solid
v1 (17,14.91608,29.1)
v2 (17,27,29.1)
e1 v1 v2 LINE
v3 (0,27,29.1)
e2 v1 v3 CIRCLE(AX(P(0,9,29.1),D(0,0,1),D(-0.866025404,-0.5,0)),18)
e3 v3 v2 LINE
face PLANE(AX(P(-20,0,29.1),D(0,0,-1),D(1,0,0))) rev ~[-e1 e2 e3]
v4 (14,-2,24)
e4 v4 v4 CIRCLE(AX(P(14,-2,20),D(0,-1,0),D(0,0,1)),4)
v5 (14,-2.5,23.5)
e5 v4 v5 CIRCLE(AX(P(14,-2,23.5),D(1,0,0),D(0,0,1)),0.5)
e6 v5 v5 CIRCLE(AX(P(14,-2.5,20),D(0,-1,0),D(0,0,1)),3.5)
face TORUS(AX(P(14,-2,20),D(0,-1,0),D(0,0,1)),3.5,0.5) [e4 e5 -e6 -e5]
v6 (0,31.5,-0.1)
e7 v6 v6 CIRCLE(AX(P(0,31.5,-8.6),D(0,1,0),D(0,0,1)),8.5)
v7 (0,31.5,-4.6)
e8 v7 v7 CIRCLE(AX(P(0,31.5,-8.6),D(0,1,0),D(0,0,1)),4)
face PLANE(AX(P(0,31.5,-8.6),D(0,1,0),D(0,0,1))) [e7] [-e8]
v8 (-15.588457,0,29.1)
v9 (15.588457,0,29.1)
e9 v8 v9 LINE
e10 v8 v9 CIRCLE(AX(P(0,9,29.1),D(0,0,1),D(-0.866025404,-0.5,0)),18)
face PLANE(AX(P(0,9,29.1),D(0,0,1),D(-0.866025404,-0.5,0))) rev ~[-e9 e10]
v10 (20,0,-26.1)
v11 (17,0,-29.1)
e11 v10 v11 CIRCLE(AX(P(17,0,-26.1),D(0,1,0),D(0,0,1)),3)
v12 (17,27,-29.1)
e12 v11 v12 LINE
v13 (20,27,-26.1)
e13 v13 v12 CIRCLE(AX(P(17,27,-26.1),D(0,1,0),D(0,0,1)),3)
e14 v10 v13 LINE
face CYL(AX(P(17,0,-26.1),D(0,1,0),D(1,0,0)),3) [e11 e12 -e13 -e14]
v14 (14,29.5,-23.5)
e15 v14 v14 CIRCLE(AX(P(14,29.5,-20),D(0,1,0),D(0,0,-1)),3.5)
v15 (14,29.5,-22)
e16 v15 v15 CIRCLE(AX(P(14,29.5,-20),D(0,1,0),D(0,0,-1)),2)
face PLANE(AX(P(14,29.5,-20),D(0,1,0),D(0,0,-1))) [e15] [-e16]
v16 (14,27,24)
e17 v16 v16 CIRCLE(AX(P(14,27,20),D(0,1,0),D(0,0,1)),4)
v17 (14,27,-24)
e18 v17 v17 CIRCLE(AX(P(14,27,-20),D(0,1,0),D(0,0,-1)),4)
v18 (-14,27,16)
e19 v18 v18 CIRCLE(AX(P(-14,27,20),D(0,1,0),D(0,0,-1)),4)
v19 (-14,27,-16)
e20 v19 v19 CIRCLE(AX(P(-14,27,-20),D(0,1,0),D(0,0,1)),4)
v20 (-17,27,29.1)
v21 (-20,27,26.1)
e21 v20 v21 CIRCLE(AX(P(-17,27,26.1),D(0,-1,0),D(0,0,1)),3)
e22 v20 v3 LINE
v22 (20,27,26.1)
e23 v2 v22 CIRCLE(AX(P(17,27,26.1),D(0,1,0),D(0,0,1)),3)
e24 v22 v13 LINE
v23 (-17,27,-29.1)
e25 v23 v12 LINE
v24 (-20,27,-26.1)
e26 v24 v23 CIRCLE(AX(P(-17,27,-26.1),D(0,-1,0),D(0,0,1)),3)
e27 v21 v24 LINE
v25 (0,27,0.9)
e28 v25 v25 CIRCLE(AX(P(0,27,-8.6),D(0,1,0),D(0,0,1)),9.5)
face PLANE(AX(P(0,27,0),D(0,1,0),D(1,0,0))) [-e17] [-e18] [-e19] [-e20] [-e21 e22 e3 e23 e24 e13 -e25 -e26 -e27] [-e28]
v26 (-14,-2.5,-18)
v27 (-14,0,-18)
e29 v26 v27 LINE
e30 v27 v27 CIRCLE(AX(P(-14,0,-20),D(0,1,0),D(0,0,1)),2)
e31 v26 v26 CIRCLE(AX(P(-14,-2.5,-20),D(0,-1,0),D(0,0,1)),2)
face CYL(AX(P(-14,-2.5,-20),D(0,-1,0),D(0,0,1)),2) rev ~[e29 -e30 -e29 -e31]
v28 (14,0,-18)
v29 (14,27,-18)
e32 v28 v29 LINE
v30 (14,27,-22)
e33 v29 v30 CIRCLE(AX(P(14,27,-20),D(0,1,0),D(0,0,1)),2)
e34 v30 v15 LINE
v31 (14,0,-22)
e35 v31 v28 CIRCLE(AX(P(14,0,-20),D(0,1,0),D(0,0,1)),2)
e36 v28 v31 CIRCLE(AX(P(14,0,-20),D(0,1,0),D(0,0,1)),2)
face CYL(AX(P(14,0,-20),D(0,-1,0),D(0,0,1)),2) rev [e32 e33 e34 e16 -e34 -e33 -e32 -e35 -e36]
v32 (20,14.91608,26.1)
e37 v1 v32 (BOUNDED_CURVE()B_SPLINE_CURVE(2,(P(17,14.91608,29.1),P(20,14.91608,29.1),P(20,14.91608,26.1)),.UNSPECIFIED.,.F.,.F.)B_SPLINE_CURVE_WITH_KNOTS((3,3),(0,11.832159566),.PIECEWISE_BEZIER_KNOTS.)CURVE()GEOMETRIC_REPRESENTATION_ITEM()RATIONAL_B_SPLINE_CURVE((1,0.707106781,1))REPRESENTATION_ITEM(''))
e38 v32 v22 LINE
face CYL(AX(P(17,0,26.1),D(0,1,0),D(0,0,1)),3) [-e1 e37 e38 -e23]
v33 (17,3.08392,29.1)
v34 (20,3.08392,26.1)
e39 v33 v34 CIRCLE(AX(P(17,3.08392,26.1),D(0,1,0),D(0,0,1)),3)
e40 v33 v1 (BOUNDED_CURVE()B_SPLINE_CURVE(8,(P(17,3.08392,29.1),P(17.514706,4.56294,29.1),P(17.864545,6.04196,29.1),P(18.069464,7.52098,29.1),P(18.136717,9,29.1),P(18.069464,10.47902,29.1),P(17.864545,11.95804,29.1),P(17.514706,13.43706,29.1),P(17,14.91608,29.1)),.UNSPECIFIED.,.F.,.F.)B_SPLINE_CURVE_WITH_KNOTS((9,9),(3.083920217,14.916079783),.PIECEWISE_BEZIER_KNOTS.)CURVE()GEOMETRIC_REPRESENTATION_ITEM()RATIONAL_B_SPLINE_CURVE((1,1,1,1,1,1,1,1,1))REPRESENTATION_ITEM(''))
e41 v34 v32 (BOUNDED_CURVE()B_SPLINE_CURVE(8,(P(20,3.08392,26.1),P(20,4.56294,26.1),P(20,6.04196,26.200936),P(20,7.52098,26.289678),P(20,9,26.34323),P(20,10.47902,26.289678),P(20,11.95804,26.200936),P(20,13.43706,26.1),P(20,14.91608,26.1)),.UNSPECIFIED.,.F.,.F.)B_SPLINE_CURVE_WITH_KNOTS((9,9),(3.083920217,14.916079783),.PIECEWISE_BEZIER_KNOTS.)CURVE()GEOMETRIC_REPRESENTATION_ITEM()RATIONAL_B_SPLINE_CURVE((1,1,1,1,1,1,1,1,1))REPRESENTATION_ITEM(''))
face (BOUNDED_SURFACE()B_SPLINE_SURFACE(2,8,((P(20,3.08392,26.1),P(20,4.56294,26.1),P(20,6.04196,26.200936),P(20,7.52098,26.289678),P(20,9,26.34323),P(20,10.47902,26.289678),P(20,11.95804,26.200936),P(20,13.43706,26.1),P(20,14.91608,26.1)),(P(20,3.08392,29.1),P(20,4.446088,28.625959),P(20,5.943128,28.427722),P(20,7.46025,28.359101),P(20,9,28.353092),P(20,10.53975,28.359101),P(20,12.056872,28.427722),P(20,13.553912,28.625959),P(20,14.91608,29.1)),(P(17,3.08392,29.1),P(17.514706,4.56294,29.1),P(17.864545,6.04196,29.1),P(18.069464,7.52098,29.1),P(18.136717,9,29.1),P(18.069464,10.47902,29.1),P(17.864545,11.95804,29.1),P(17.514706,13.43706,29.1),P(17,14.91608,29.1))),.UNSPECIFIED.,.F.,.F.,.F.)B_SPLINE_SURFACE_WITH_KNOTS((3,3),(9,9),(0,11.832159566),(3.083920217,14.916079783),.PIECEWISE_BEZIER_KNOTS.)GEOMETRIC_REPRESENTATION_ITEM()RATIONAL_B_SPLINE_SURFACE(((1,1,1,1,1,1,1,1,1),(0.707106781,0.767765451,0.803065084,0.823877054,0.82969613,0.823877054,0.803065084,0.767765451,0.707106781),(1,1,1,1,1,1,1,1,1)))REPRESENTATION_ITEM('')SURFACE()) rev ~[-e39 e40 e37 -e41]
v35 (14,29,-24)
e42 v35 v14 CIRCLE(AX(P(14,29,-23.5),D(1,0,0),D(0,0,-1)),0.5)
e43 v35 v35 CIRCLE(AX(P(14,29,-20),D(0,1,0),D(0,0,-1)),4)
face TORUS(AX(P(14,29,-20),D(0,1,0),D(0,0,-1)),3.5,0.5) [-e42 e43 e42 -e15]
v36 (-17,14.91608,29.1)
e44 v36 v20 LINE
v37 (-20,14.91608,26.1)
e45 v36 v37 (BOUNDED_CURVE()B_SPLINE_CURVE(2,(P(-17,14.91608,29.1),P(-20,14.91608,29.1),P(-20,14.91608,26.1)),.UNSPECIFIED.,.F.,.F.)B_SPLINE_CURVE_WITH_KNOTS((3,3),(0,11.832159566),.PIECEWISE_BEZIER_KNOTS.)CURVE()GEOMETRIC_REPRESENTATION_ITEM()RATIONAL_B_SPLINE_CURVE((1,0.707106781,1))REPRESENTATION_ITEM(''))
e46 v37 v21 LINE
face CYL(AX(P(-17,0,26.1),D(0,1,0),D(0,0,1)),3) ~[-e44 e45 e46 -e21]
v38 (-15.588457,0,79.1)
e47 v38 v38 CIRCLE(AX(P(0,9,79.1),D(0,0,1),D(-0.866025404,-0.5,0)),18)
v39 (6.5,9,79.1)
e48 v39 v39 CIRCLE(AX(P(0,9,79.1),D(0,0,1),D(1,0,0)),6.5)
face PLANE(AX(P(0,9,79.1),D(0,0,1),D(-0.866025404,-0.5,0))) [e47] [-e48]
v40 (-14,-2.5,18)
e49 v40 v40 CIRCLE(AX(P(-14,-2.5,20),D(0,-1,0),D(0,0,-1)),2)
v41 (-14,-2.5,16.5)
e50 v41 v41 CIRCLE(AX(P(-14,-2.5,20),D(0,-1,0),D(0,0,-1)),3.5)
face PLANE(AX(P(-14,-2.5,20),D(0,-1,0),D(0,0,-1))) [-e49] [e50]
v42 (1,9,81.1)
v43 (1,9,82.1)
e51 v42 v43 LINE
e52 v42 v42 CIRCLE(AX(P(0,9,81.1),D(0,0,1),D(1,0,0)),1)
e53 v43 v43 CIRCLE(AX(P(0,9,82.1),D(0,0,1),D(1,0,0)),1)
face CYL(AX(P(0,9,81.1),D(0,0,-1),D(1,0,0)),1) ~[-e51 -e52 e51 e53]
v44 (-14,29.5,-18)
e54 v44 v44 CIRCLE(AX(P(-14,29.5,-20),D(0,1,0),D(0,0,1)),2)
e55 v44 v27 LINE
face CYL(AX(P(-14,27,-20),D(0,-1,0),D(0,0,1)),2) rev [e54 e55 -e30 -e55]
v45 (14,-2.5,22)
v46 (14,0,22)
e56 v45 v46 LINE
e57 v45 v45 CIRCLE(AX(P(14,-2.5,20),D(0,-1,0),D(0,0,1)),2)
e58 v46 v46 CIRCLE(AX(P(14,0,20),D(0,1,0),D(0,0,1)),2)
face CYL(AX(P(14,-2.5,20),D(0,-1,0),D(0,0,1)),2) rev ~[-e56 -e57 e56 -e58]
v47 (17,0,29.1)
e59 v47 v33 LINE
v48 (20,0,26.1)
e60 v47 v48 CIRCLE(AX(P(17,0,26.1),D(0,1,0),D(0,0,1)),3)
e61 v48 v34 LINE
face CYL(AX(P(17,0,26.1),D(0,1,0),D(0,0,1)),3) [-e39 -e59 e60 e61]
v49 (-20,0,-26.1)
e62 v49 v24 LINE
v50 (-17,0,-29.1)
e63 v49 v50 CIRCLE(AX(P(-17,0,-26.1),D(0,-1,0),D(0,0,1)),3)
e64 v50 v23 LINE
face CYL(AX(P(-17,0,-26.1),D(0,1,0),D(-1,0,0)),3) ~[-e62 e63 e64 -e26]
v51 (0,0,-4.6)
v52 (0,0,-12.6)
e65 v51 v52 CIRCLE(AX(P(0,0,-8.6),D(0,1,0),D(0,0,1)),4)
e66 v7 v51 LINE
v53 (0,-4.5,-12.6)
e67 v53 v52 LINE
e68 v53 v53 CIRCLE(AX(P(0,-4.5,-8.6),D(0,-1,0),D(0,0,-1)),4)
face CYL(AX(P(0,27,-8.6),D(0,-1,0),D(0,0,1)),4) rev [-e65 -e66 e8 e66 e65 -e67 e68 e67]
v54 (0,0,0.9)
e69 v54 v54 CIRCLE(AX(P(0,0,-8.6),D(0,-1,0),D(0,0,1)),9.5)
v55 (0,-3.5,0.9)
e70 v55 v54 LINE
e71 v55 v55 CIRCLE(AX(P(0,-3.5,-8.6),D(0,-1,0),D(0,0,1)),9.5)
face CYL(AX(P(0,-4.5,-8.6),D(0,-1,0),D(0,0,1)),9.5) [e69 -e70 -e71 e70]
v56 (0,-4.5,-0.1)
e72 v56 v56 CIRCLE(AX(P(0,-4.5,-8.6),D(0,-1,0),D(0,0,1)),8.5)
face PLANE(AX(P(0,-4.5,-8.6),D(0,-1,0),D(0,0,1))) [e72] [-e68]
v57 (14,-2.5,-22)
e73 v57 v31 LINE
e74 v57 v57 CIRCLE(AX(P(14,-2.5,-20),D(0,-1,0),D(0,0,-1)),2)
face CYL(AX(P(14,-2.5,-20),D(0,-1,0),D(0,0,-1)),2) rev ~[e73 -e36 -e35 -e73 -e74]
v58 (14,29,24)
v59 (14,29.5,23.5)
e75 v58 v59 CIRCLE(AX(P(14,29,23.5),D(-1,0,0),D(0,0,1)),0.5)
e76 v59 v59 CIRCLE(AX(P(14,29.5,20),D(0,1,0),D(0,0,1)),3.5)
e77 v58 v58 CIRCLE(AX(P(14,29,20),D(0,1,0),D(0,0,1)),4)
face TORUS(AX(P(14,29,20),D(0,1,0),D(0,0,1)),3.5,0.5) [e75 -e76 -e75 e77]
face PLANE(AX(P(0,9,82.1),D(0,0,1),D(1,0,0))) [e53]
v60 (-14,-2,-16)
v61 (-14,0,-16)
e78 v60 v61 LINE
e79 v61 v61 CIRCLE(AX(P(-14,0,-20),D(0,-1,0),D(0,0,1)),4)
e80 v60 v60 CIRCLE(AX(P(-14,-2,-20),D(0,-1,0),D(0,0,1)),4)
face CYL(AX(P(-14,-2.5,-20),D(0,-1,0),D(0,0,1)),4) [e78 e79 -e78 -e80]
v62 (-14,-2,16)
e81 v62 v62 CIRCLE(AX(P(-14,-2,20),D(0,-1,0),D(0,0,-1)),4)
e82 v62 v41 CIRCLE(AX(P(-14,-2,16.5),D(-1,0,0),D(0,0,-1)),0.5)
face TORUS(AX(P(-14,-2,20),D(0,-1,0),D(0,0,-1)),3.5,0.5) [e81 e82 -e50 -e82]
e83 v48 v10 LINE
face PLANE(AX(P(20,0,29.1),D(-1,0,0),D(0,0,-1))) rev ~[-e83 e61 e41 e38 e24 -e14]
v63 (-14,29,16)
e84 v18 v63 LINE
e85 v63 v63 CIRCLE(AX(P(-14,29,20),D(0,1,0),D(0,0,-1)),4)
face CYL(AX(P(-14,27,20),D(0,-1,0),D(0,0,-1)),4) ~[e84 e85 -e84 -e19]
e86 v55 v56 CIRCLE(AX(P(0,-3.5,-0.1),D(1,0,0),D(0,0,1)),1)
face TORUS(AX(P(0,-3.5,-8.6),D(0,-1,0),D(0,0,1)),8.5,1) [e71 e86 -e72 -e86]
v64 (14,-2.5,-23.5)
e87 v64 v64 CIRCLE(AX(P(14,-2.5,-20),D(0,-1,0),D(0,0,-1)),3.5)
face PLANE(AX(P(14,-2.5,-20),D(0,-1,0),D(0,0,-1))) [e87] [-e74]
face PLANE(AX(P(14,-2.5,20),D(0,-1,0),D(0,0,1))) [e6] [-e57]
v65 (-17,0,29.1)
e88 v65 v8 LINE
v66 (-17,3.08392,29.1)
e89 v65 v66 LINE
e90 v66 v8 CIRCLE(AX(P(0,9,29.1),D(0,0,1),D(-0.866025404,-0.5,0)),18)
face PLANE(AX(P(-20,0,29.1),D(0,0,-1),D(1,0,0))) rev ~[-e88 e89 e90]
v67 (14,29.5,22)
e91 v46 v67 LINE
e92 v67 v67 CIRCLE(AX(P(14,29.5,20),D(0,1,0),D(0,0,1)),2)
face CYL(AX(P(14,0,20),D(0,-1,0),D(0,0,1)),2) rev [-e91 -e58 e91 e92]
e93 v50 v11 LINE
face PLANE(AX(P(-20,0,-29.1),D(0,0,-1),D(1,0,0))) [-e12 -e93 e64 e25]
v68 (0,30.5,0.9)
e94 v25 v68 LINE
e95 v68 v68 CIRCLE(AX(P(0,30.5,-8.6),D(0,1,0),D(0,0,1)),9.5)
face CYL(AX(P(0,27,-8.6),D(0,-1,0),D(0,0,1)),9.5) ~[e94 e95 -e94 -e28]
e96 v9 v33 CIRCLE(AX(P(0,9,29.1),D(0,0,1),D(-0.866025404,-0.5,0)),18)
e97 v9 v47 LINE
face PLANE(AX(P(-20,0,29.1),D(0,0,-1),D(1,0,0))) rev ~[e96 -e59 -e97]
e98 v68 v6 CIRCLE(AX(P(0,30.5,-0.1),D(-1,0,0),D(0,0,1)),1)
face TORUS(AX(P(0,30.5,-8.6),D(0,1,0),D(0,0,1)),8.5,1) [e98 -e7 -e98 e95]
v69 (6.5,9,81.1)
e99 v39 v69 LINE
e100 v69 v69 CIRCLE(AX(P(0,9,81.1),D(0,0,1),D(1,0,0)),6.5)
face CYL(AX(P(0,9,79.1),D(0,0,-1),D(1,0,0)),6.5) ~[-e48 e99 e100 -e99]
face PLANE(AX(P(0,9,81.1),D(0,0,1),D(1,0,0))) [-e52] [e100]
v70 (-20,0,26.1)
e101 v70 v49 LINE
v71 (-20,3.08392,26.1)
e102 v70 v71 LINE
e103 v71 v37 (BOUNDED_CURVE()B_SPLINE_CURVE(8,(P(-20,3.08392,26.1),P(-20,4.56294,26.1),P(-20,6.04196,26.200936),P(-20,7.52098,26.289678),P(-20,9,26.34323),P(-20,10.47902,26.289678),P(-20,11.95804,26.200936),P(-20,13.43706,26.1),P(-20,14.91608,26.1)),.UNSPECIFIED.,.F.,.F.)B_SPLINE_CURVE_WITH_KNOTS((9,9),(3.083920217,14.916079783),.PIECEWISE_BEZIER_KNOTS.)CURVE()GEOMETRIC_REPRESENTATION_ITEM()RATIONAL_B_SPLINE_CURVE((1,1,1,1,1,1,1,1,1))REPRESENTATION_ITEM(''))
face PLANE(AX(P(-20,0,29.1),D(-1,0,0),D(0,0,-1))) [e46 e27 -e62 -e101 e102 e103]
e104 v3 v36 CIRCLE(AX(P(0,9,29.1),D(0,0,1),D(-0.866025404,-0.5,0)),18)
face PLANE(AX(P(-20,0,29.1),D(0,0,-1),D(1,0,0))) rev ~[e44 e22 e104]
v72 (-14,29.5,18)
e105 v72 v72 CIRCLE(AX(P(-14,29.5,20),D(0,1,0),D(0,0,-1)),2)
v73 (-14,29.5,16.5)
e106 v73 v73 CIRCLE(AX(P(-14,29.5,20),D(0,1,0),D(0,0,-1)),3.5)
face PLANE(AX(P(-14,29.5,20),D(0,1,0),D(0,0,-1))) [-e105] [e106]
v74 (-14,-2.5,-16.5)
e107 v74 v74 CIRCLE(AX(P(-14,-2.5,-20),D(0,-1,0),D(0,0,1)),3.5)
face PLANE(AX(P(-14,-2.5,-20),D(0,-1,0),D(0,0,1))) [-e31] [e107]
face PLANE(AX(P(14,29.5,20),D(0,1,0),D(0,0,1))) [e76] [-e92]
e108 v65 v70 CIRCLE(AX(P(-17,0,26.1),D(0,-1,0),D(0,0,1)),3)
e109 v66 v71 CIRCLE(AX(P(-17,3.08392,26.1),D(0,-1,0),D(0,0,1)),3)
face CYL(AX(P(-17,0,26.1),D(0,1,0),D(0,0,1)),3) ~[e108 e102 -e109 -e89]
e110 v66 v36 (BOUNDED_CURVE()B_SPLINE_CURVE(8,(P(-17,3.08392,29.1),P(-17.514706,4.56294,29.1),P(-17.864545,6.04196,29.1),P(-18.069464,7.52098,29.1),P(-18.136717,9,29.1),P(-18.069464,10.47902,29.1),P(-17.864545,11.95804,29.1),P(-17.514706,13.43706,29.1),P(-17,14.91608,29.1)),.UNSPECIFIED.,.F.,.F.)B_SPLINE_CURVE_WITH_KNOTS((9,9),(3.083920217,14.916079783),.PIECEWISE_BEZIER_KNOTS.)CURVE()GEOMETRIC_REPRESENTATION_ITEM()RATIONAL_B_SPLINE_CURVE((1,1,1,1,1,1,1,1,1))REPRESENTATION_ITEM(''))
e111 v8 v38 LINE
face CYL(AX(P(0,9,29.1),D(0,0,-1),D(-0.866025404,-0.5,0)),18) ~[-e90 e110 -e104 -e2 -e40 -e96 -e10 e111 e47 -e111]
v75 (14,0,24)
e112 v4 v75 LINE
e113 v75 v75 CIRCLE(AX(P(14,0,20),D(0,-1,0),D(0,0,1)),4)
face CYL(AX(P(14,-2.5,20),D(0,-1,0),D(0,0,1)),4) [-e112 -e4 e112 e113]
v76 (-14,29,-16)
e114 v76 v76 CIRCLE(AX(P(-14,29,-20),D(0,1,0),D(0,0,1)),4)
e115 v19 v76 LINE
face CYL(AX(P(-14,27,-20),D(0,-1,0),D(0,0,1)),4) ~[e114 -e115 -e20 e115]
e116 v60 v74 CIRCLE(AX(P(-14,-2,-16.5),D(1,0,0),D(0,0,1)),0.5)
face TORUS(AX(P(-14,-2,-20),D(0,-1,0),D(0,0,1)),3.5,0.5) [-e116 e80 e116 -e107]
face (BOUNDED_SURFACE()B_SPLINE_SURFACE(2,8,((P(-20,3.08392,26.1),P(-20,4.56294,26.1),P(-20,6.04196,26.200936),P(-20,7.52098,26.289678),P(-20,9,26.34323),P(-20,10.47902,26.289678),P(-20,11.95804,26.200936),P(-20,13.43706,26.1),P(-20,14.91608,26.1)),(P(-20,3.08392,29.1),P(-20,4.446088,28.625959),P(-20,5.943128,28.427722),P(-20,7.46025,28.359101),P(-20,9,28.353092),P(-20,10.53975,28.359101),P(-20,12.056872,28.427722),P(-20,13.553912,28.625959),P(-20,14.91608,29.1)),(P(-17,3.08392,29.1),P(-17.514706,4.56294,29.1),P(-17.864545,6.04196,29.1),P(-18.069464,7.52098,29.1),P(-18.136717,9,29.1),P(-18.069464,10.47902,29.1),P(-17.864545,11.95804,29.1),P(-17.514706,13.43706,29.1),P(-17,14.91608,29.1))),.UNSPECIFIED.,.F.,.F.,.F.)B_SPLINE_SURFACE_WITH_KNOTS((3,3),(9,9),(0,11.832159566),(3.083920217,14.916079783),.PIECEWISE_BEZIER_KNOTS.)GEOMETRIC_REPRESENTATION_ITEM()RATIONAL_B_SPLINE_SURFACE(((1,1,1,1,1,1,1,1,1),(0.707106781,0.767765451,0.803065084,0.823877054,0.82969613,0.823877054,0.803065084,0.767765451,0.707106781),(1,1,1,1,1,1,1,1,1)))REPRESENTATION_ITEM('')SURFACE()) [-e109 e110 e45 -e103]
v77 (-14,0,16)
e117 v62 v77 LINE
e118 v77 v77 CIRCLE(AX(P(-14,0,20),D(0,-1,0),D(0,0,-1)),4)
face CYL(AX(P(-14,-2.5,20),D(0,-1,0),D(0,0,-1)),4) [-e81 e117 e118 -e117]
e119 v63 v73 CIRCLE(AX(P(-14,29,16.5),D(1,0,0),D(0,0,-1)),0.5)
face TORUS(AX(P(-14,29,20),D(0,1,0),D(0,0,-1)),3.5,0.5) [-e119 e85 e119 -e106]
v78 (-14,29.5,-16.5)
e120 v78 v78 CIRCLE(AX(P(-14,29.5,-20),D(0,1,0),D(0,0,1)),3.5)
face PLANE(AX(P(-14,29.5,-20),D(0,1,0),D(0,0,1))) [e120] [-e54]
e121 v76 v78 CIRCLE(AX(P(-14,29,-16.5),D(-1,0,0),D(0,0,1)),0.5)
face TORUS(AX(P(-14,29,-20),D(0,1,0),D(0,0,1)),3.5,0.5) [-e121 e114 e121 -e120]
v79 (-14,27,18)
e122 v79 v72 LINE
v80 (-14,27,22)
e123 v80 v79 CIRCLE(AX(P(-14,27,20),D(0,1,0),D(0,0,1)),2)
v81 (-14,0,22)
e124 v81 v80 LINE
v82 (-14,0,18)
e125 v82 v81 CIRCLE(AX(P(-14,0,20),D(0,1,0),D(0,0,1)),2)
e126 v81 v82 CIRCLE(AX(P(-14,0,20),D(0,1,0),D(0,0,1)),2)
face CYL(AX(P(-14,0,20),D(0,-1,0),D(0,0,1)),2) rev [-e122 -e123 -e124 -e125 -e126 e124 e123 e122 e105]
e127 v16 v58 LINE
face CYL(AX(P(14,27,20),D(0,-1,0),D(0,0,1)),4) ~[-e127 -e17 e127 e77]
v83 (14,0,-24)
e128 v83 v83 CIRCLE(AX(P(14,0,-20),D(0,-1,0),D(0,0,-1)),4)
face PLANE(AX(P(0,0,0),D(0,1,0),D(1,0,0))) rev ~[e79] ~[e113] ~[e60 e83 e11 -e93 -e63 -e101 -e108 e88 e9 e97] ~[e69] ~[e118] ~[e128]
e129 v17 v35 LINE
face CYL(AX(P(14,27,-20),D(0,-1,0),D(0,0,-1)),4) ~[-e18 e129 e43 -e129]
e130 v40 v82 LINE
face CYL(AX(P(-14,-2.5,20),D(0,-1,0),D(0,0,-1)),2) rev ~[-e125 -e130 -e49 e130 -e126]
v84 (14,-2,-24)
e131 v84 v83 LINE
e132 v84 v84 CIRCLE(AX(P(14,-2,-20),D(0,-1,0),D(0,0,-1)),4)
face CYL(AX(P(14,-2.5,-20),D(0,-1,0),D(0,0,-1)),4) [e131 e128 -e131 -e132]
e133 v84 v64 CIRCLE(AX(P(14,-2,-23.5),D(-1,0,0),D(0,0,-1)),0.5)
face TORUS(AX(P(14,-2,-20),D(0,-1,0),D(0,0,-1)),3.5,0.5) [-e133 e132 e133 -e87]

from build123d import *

# Parameters (mm, degrees)
SKETCH1_W           = 40
SKETCH1_H           = 58.2
SKETCH1_R           = 2
SKETCH1_R_2         = 4
BOSS_EXTRUDE1_DEPTH = 27
SKETCH2_R           = 9.5
SKETCH2_R_2         = 4
BOSS_EXTRUDE2_DEPTH = 4.5
BOSS_EXTRUDE3_START = 4.5
SKETCH3_R           = 9.5
SKETCH3_R_2         = 4
BOSS_EXTRUDE3_DEPTH = 4.5
SKETCH4_R           = 4
SKETCH4_R_2         = 2
BOSS_EXTRUDE4_DEPTH = 2.5
BOSS_EXTRUDE5_START = 2.5
SKETCH5_R           = 4
SKETCH5_R_2         = 2
BOSS_EXTRUDE5_DEPTH = 2.5
SKETCH6_R           = 18
BOSS_EXTRUDE6_DEPTH = 50
SKETCH7_R           = 6.5
BOSS_EXTRUDE7_DEPTH = 2
SKETCH8_R           = 1
BOSS_EXTRUDE8_DEPTH = 1
FILLET1_R           = 3
FILLET2_R           = 1
FILLET3_R           = 0.5


with BuildPart() as part:
    # Sketch1 → Boss-Extrude1 (new body)
    with BuildSketch(Plane(origin=(0, 0, 0), x_dir=(1, 0, 0), z_dir=(0, 1, 0))):
        Rectangle(SKETCH1_W, SKETCH1_H)
        with Locations(Location((-14, 20, 0), (0, 0, 270))):
            Circle(SKETCH1_R, mode=Mode.SUBTRACT)
        with Locations(Location((14, 20, 0), (0, 0, 270))):
            Circle(SKETCH1_R, mode=Mode.SUBTRACT)
        with Locations(Location((14, -20, 0), (0, 0, 270))):
            Circle(SKETCH1_R, mode=Mode.SUBTRACT)
        with Locations(Location((-14, -20, 0), (0, 0, 270))):
            Circle(SKETCH1_R, mode=Mode.SUBTRACT)
        with Locations(Location((0, 8.6, 0), (0, 0, 270))):
            Circle(SKETCH1_R_2, mode=Mode.SUBTRACT)
    extrude(amount=BOSS_EXTRUDE1_DEPTH)

    # Sketch2 → Boss-Extrude2 (add)
    with BuildSketch(Plane(origin=(0, 27, 0), x_dir=(1, 0, 0), z_dir=(0, 1, 0))):
        with Locations(Location((0, 8.6, 0), (0, 0, 270))):
            Circle(SKETCH2_R)
        with Locations(Location((0, 8.6, 0), (0, 0, 270))):
            Circle(SKETCH2_R_2, mode=Mode.SUBTRACT)
    extrude(amount=BOSS_EXTRUDE2_DEPTH)

    # Sketch3 → Boss-Extrude3 (add)
    with BuildSketch(Plane.XZ.offset(BOSS_EXTRUDE3_START)):
        with Locations(Location((0, -8.6, 0), (0, 0, 90))):
            Circle(SKETCH3_R)
        with Locations(Location((0, -8.6, 0), (0, 0, 270))):
            Circle(SKETCH3_R_2, mode=Mode.SUBTRACT)
    extrude(amount=-BOSS_EXTRUDE3_DEPTH)

    # Sketch4 → Boss-Extrude4 (add)
    # profile 1 of 4: a face of its own
    with BuildSketch(Plane(origin=(0, 27, 0), x_dir=(1, 0, 0), z_dir=(0, 1, 0))):
        with Locations(Location((-14, 20, 0), (0, 0, 270))):
            Circle(SKETCH4_R)
        with Locations(Location((-14, 20, 0), (0, 0, 270))):
            Circle(SKETCH4_R_2, mode=Mode.SUBTRACT)
    # profile 2 of 4: a face of its own
    with BuildSketch(Plane(origin=(0, 27, 0), x_dir=(1, 0, 0), z_dir=(0, 1, 0))):
        with Locations(Location((-14, -20, 0), (0, 0, 90))):
            Circle(SKETCH4_R)
        with Locations(Location((-14, -20, 0), (0, 0, 90))):
            Circle(SKETCH4_R_2, mode=Mode.SUBTRACT)
    # profile 3 of 4: a face of its own
    with BuildSketch(Plane(origin=(0, 27, 0), x_dir=(1, 0, 0), z_dir=(0, 1, 0))):
        with Locations(Location((14, -20, 0), (0, 0, 270))):
            Circle(SKETCH4_R)
        with Locations(Location((14, -20, 0), (0, 0, 270))):
            Circle(SKETCH4_R_2, mode=Mode.SUBTRACT)
    # profile 4 of 4: a face of its own
    with BuildSketch(Plane(origin=(0, 27, 0), x_dir=(1, 0, 0), z_dir=(0, 1, 0))):
        with Locations(Location((14, 20, 0), (0, 0, 90))):
            Circle(SKETCH4_R)
        with Locations(Location((14, 20, 0), (0, 0, 90))):
            Circle(SKETCH4_R_2, mode=Mode.SUBTRACT)
    extrude(amount=BOSS_EXTRUDE4_DEPTH)

    # Sketch5 → Boss-Extrude5 (add)
    # profile 1 of 4: a face of its own
    with BuildSketch(Plane.XZ.offset(BOSS_EXTRUDE5_START)):
        with Locations(Location((-14, 20, 0), (0, 0, 270))):
            Circle(SKETCH5_R)
        with Locations(Location((-14, 20, 0), (0, 0, 270))):
            Circle(SKETCH5_R_2, mode=Mode.SUBTRACT)
    # profile 2 of 4: a face of its own
    with BuildSketch(Plane.XZ.offset(BOSS_EXTRUDE5_START)):
        with Locations(Location((14, 20, 0), (0, 0, 90))):
            Circle(SKETCH5_R)
        with Locations(Location((14, 20, 0), (0, 0, 90))):
            Circle(SKETCH5_R_2, mode=Mode.SUBTRACT)
    # profile 3 of 4: a face of its own
    with BuildSketch(Plane.XZ.offset(BOSS_EXTRUDE5_START)):
        with Locations(Location((14, -20, 0), (0, 0, 270))):
            Circle(SKETCH5_R)
        with Locations(Location((14, -20, 0), (0, 0, 270))):
            Circle(SKETCH5_R_2, mode=Mode.SUBTRACT)
    # profile 4 of 4: a face of its own
    with BuildSketch(Plane.XZ.offset(BOSS_EXTRUDE5_START)):
        with Locations(Location((-14, -20, 0), (0, 0, 90))):
            Circle(SKETCH5_R)
        with Locations(Location((-14, -20, 0), (0, 0, 90))):
            Circle(SKETCH5_R_2, mode=Mode.SUBTRACT)
    extrude(amount=-BOSS_EXTRUDE5_DEPTH)

    # Sketch6 → Boss-Extrude6 (add)
    with BuildSketch(Plane.XY.offset(29.1)):
        with Locations(Location((0, 9, 0), (0, 0, 210))):
            Circle(SKETCH6_R)
    extrude(amount=BOSS_EXTRUDE6_DEPTH)

    # Sketch7 → Boss-Extrude7 (add)
    with BuildSketch(Plane.XY.offset(79.1)):
        with Locations((0, 9)):
            Circle(SKETCH7_R)
    extrude(amount=BOSS_EXTRUDE7_DEPTH)

    # Sketch8 → Boss-Extrude8 (add)
    with BuildSketch(Plane.XY.offset(81.1)):
        with Locations((0, 9)):
            Circle(SKETCH8_R)
    extrude(amount=BOSS_EXTRUDE8_DEPTH)

    # Fillet1
    fillet1_edges = [part.edges().sort_by_distance(p)[0] for p in [
        (20, 13.5, 29.1),
        (-20, 13.5, 29.1),
        (-20, 13.5, -29.1),
        (20, 13.5, -29.1),
    ]]
    fillet(fillet1_edges, radius=FILLET1_R)

    # Fillet2
    fillet2_edges = [part.edges().sort_by_distance(p)[0] for p in [
        (0, 31.5, -18.1),
        (0, -4.5, -18.1),
    ]]
    fillet(fillet2_edges, radius=FILLET2_R)

    # Fillet3
    fillet3_edges = [part.edges().sort_by_distance(p)[0] for p in [
        (-14, 29.5, -24),
        (-14, 29.5, 24),
        (14, 29.5, 16),
        (14, 29.5, -16),
        (-14, -2.5, 24),
        (14, -2.5, 16),
        (14, -2.5, -16),
        (-14, -2.5, -24),
    ]]
    fillet(fillet3_edges, radius=FILLET3_R)


solid = part.part
